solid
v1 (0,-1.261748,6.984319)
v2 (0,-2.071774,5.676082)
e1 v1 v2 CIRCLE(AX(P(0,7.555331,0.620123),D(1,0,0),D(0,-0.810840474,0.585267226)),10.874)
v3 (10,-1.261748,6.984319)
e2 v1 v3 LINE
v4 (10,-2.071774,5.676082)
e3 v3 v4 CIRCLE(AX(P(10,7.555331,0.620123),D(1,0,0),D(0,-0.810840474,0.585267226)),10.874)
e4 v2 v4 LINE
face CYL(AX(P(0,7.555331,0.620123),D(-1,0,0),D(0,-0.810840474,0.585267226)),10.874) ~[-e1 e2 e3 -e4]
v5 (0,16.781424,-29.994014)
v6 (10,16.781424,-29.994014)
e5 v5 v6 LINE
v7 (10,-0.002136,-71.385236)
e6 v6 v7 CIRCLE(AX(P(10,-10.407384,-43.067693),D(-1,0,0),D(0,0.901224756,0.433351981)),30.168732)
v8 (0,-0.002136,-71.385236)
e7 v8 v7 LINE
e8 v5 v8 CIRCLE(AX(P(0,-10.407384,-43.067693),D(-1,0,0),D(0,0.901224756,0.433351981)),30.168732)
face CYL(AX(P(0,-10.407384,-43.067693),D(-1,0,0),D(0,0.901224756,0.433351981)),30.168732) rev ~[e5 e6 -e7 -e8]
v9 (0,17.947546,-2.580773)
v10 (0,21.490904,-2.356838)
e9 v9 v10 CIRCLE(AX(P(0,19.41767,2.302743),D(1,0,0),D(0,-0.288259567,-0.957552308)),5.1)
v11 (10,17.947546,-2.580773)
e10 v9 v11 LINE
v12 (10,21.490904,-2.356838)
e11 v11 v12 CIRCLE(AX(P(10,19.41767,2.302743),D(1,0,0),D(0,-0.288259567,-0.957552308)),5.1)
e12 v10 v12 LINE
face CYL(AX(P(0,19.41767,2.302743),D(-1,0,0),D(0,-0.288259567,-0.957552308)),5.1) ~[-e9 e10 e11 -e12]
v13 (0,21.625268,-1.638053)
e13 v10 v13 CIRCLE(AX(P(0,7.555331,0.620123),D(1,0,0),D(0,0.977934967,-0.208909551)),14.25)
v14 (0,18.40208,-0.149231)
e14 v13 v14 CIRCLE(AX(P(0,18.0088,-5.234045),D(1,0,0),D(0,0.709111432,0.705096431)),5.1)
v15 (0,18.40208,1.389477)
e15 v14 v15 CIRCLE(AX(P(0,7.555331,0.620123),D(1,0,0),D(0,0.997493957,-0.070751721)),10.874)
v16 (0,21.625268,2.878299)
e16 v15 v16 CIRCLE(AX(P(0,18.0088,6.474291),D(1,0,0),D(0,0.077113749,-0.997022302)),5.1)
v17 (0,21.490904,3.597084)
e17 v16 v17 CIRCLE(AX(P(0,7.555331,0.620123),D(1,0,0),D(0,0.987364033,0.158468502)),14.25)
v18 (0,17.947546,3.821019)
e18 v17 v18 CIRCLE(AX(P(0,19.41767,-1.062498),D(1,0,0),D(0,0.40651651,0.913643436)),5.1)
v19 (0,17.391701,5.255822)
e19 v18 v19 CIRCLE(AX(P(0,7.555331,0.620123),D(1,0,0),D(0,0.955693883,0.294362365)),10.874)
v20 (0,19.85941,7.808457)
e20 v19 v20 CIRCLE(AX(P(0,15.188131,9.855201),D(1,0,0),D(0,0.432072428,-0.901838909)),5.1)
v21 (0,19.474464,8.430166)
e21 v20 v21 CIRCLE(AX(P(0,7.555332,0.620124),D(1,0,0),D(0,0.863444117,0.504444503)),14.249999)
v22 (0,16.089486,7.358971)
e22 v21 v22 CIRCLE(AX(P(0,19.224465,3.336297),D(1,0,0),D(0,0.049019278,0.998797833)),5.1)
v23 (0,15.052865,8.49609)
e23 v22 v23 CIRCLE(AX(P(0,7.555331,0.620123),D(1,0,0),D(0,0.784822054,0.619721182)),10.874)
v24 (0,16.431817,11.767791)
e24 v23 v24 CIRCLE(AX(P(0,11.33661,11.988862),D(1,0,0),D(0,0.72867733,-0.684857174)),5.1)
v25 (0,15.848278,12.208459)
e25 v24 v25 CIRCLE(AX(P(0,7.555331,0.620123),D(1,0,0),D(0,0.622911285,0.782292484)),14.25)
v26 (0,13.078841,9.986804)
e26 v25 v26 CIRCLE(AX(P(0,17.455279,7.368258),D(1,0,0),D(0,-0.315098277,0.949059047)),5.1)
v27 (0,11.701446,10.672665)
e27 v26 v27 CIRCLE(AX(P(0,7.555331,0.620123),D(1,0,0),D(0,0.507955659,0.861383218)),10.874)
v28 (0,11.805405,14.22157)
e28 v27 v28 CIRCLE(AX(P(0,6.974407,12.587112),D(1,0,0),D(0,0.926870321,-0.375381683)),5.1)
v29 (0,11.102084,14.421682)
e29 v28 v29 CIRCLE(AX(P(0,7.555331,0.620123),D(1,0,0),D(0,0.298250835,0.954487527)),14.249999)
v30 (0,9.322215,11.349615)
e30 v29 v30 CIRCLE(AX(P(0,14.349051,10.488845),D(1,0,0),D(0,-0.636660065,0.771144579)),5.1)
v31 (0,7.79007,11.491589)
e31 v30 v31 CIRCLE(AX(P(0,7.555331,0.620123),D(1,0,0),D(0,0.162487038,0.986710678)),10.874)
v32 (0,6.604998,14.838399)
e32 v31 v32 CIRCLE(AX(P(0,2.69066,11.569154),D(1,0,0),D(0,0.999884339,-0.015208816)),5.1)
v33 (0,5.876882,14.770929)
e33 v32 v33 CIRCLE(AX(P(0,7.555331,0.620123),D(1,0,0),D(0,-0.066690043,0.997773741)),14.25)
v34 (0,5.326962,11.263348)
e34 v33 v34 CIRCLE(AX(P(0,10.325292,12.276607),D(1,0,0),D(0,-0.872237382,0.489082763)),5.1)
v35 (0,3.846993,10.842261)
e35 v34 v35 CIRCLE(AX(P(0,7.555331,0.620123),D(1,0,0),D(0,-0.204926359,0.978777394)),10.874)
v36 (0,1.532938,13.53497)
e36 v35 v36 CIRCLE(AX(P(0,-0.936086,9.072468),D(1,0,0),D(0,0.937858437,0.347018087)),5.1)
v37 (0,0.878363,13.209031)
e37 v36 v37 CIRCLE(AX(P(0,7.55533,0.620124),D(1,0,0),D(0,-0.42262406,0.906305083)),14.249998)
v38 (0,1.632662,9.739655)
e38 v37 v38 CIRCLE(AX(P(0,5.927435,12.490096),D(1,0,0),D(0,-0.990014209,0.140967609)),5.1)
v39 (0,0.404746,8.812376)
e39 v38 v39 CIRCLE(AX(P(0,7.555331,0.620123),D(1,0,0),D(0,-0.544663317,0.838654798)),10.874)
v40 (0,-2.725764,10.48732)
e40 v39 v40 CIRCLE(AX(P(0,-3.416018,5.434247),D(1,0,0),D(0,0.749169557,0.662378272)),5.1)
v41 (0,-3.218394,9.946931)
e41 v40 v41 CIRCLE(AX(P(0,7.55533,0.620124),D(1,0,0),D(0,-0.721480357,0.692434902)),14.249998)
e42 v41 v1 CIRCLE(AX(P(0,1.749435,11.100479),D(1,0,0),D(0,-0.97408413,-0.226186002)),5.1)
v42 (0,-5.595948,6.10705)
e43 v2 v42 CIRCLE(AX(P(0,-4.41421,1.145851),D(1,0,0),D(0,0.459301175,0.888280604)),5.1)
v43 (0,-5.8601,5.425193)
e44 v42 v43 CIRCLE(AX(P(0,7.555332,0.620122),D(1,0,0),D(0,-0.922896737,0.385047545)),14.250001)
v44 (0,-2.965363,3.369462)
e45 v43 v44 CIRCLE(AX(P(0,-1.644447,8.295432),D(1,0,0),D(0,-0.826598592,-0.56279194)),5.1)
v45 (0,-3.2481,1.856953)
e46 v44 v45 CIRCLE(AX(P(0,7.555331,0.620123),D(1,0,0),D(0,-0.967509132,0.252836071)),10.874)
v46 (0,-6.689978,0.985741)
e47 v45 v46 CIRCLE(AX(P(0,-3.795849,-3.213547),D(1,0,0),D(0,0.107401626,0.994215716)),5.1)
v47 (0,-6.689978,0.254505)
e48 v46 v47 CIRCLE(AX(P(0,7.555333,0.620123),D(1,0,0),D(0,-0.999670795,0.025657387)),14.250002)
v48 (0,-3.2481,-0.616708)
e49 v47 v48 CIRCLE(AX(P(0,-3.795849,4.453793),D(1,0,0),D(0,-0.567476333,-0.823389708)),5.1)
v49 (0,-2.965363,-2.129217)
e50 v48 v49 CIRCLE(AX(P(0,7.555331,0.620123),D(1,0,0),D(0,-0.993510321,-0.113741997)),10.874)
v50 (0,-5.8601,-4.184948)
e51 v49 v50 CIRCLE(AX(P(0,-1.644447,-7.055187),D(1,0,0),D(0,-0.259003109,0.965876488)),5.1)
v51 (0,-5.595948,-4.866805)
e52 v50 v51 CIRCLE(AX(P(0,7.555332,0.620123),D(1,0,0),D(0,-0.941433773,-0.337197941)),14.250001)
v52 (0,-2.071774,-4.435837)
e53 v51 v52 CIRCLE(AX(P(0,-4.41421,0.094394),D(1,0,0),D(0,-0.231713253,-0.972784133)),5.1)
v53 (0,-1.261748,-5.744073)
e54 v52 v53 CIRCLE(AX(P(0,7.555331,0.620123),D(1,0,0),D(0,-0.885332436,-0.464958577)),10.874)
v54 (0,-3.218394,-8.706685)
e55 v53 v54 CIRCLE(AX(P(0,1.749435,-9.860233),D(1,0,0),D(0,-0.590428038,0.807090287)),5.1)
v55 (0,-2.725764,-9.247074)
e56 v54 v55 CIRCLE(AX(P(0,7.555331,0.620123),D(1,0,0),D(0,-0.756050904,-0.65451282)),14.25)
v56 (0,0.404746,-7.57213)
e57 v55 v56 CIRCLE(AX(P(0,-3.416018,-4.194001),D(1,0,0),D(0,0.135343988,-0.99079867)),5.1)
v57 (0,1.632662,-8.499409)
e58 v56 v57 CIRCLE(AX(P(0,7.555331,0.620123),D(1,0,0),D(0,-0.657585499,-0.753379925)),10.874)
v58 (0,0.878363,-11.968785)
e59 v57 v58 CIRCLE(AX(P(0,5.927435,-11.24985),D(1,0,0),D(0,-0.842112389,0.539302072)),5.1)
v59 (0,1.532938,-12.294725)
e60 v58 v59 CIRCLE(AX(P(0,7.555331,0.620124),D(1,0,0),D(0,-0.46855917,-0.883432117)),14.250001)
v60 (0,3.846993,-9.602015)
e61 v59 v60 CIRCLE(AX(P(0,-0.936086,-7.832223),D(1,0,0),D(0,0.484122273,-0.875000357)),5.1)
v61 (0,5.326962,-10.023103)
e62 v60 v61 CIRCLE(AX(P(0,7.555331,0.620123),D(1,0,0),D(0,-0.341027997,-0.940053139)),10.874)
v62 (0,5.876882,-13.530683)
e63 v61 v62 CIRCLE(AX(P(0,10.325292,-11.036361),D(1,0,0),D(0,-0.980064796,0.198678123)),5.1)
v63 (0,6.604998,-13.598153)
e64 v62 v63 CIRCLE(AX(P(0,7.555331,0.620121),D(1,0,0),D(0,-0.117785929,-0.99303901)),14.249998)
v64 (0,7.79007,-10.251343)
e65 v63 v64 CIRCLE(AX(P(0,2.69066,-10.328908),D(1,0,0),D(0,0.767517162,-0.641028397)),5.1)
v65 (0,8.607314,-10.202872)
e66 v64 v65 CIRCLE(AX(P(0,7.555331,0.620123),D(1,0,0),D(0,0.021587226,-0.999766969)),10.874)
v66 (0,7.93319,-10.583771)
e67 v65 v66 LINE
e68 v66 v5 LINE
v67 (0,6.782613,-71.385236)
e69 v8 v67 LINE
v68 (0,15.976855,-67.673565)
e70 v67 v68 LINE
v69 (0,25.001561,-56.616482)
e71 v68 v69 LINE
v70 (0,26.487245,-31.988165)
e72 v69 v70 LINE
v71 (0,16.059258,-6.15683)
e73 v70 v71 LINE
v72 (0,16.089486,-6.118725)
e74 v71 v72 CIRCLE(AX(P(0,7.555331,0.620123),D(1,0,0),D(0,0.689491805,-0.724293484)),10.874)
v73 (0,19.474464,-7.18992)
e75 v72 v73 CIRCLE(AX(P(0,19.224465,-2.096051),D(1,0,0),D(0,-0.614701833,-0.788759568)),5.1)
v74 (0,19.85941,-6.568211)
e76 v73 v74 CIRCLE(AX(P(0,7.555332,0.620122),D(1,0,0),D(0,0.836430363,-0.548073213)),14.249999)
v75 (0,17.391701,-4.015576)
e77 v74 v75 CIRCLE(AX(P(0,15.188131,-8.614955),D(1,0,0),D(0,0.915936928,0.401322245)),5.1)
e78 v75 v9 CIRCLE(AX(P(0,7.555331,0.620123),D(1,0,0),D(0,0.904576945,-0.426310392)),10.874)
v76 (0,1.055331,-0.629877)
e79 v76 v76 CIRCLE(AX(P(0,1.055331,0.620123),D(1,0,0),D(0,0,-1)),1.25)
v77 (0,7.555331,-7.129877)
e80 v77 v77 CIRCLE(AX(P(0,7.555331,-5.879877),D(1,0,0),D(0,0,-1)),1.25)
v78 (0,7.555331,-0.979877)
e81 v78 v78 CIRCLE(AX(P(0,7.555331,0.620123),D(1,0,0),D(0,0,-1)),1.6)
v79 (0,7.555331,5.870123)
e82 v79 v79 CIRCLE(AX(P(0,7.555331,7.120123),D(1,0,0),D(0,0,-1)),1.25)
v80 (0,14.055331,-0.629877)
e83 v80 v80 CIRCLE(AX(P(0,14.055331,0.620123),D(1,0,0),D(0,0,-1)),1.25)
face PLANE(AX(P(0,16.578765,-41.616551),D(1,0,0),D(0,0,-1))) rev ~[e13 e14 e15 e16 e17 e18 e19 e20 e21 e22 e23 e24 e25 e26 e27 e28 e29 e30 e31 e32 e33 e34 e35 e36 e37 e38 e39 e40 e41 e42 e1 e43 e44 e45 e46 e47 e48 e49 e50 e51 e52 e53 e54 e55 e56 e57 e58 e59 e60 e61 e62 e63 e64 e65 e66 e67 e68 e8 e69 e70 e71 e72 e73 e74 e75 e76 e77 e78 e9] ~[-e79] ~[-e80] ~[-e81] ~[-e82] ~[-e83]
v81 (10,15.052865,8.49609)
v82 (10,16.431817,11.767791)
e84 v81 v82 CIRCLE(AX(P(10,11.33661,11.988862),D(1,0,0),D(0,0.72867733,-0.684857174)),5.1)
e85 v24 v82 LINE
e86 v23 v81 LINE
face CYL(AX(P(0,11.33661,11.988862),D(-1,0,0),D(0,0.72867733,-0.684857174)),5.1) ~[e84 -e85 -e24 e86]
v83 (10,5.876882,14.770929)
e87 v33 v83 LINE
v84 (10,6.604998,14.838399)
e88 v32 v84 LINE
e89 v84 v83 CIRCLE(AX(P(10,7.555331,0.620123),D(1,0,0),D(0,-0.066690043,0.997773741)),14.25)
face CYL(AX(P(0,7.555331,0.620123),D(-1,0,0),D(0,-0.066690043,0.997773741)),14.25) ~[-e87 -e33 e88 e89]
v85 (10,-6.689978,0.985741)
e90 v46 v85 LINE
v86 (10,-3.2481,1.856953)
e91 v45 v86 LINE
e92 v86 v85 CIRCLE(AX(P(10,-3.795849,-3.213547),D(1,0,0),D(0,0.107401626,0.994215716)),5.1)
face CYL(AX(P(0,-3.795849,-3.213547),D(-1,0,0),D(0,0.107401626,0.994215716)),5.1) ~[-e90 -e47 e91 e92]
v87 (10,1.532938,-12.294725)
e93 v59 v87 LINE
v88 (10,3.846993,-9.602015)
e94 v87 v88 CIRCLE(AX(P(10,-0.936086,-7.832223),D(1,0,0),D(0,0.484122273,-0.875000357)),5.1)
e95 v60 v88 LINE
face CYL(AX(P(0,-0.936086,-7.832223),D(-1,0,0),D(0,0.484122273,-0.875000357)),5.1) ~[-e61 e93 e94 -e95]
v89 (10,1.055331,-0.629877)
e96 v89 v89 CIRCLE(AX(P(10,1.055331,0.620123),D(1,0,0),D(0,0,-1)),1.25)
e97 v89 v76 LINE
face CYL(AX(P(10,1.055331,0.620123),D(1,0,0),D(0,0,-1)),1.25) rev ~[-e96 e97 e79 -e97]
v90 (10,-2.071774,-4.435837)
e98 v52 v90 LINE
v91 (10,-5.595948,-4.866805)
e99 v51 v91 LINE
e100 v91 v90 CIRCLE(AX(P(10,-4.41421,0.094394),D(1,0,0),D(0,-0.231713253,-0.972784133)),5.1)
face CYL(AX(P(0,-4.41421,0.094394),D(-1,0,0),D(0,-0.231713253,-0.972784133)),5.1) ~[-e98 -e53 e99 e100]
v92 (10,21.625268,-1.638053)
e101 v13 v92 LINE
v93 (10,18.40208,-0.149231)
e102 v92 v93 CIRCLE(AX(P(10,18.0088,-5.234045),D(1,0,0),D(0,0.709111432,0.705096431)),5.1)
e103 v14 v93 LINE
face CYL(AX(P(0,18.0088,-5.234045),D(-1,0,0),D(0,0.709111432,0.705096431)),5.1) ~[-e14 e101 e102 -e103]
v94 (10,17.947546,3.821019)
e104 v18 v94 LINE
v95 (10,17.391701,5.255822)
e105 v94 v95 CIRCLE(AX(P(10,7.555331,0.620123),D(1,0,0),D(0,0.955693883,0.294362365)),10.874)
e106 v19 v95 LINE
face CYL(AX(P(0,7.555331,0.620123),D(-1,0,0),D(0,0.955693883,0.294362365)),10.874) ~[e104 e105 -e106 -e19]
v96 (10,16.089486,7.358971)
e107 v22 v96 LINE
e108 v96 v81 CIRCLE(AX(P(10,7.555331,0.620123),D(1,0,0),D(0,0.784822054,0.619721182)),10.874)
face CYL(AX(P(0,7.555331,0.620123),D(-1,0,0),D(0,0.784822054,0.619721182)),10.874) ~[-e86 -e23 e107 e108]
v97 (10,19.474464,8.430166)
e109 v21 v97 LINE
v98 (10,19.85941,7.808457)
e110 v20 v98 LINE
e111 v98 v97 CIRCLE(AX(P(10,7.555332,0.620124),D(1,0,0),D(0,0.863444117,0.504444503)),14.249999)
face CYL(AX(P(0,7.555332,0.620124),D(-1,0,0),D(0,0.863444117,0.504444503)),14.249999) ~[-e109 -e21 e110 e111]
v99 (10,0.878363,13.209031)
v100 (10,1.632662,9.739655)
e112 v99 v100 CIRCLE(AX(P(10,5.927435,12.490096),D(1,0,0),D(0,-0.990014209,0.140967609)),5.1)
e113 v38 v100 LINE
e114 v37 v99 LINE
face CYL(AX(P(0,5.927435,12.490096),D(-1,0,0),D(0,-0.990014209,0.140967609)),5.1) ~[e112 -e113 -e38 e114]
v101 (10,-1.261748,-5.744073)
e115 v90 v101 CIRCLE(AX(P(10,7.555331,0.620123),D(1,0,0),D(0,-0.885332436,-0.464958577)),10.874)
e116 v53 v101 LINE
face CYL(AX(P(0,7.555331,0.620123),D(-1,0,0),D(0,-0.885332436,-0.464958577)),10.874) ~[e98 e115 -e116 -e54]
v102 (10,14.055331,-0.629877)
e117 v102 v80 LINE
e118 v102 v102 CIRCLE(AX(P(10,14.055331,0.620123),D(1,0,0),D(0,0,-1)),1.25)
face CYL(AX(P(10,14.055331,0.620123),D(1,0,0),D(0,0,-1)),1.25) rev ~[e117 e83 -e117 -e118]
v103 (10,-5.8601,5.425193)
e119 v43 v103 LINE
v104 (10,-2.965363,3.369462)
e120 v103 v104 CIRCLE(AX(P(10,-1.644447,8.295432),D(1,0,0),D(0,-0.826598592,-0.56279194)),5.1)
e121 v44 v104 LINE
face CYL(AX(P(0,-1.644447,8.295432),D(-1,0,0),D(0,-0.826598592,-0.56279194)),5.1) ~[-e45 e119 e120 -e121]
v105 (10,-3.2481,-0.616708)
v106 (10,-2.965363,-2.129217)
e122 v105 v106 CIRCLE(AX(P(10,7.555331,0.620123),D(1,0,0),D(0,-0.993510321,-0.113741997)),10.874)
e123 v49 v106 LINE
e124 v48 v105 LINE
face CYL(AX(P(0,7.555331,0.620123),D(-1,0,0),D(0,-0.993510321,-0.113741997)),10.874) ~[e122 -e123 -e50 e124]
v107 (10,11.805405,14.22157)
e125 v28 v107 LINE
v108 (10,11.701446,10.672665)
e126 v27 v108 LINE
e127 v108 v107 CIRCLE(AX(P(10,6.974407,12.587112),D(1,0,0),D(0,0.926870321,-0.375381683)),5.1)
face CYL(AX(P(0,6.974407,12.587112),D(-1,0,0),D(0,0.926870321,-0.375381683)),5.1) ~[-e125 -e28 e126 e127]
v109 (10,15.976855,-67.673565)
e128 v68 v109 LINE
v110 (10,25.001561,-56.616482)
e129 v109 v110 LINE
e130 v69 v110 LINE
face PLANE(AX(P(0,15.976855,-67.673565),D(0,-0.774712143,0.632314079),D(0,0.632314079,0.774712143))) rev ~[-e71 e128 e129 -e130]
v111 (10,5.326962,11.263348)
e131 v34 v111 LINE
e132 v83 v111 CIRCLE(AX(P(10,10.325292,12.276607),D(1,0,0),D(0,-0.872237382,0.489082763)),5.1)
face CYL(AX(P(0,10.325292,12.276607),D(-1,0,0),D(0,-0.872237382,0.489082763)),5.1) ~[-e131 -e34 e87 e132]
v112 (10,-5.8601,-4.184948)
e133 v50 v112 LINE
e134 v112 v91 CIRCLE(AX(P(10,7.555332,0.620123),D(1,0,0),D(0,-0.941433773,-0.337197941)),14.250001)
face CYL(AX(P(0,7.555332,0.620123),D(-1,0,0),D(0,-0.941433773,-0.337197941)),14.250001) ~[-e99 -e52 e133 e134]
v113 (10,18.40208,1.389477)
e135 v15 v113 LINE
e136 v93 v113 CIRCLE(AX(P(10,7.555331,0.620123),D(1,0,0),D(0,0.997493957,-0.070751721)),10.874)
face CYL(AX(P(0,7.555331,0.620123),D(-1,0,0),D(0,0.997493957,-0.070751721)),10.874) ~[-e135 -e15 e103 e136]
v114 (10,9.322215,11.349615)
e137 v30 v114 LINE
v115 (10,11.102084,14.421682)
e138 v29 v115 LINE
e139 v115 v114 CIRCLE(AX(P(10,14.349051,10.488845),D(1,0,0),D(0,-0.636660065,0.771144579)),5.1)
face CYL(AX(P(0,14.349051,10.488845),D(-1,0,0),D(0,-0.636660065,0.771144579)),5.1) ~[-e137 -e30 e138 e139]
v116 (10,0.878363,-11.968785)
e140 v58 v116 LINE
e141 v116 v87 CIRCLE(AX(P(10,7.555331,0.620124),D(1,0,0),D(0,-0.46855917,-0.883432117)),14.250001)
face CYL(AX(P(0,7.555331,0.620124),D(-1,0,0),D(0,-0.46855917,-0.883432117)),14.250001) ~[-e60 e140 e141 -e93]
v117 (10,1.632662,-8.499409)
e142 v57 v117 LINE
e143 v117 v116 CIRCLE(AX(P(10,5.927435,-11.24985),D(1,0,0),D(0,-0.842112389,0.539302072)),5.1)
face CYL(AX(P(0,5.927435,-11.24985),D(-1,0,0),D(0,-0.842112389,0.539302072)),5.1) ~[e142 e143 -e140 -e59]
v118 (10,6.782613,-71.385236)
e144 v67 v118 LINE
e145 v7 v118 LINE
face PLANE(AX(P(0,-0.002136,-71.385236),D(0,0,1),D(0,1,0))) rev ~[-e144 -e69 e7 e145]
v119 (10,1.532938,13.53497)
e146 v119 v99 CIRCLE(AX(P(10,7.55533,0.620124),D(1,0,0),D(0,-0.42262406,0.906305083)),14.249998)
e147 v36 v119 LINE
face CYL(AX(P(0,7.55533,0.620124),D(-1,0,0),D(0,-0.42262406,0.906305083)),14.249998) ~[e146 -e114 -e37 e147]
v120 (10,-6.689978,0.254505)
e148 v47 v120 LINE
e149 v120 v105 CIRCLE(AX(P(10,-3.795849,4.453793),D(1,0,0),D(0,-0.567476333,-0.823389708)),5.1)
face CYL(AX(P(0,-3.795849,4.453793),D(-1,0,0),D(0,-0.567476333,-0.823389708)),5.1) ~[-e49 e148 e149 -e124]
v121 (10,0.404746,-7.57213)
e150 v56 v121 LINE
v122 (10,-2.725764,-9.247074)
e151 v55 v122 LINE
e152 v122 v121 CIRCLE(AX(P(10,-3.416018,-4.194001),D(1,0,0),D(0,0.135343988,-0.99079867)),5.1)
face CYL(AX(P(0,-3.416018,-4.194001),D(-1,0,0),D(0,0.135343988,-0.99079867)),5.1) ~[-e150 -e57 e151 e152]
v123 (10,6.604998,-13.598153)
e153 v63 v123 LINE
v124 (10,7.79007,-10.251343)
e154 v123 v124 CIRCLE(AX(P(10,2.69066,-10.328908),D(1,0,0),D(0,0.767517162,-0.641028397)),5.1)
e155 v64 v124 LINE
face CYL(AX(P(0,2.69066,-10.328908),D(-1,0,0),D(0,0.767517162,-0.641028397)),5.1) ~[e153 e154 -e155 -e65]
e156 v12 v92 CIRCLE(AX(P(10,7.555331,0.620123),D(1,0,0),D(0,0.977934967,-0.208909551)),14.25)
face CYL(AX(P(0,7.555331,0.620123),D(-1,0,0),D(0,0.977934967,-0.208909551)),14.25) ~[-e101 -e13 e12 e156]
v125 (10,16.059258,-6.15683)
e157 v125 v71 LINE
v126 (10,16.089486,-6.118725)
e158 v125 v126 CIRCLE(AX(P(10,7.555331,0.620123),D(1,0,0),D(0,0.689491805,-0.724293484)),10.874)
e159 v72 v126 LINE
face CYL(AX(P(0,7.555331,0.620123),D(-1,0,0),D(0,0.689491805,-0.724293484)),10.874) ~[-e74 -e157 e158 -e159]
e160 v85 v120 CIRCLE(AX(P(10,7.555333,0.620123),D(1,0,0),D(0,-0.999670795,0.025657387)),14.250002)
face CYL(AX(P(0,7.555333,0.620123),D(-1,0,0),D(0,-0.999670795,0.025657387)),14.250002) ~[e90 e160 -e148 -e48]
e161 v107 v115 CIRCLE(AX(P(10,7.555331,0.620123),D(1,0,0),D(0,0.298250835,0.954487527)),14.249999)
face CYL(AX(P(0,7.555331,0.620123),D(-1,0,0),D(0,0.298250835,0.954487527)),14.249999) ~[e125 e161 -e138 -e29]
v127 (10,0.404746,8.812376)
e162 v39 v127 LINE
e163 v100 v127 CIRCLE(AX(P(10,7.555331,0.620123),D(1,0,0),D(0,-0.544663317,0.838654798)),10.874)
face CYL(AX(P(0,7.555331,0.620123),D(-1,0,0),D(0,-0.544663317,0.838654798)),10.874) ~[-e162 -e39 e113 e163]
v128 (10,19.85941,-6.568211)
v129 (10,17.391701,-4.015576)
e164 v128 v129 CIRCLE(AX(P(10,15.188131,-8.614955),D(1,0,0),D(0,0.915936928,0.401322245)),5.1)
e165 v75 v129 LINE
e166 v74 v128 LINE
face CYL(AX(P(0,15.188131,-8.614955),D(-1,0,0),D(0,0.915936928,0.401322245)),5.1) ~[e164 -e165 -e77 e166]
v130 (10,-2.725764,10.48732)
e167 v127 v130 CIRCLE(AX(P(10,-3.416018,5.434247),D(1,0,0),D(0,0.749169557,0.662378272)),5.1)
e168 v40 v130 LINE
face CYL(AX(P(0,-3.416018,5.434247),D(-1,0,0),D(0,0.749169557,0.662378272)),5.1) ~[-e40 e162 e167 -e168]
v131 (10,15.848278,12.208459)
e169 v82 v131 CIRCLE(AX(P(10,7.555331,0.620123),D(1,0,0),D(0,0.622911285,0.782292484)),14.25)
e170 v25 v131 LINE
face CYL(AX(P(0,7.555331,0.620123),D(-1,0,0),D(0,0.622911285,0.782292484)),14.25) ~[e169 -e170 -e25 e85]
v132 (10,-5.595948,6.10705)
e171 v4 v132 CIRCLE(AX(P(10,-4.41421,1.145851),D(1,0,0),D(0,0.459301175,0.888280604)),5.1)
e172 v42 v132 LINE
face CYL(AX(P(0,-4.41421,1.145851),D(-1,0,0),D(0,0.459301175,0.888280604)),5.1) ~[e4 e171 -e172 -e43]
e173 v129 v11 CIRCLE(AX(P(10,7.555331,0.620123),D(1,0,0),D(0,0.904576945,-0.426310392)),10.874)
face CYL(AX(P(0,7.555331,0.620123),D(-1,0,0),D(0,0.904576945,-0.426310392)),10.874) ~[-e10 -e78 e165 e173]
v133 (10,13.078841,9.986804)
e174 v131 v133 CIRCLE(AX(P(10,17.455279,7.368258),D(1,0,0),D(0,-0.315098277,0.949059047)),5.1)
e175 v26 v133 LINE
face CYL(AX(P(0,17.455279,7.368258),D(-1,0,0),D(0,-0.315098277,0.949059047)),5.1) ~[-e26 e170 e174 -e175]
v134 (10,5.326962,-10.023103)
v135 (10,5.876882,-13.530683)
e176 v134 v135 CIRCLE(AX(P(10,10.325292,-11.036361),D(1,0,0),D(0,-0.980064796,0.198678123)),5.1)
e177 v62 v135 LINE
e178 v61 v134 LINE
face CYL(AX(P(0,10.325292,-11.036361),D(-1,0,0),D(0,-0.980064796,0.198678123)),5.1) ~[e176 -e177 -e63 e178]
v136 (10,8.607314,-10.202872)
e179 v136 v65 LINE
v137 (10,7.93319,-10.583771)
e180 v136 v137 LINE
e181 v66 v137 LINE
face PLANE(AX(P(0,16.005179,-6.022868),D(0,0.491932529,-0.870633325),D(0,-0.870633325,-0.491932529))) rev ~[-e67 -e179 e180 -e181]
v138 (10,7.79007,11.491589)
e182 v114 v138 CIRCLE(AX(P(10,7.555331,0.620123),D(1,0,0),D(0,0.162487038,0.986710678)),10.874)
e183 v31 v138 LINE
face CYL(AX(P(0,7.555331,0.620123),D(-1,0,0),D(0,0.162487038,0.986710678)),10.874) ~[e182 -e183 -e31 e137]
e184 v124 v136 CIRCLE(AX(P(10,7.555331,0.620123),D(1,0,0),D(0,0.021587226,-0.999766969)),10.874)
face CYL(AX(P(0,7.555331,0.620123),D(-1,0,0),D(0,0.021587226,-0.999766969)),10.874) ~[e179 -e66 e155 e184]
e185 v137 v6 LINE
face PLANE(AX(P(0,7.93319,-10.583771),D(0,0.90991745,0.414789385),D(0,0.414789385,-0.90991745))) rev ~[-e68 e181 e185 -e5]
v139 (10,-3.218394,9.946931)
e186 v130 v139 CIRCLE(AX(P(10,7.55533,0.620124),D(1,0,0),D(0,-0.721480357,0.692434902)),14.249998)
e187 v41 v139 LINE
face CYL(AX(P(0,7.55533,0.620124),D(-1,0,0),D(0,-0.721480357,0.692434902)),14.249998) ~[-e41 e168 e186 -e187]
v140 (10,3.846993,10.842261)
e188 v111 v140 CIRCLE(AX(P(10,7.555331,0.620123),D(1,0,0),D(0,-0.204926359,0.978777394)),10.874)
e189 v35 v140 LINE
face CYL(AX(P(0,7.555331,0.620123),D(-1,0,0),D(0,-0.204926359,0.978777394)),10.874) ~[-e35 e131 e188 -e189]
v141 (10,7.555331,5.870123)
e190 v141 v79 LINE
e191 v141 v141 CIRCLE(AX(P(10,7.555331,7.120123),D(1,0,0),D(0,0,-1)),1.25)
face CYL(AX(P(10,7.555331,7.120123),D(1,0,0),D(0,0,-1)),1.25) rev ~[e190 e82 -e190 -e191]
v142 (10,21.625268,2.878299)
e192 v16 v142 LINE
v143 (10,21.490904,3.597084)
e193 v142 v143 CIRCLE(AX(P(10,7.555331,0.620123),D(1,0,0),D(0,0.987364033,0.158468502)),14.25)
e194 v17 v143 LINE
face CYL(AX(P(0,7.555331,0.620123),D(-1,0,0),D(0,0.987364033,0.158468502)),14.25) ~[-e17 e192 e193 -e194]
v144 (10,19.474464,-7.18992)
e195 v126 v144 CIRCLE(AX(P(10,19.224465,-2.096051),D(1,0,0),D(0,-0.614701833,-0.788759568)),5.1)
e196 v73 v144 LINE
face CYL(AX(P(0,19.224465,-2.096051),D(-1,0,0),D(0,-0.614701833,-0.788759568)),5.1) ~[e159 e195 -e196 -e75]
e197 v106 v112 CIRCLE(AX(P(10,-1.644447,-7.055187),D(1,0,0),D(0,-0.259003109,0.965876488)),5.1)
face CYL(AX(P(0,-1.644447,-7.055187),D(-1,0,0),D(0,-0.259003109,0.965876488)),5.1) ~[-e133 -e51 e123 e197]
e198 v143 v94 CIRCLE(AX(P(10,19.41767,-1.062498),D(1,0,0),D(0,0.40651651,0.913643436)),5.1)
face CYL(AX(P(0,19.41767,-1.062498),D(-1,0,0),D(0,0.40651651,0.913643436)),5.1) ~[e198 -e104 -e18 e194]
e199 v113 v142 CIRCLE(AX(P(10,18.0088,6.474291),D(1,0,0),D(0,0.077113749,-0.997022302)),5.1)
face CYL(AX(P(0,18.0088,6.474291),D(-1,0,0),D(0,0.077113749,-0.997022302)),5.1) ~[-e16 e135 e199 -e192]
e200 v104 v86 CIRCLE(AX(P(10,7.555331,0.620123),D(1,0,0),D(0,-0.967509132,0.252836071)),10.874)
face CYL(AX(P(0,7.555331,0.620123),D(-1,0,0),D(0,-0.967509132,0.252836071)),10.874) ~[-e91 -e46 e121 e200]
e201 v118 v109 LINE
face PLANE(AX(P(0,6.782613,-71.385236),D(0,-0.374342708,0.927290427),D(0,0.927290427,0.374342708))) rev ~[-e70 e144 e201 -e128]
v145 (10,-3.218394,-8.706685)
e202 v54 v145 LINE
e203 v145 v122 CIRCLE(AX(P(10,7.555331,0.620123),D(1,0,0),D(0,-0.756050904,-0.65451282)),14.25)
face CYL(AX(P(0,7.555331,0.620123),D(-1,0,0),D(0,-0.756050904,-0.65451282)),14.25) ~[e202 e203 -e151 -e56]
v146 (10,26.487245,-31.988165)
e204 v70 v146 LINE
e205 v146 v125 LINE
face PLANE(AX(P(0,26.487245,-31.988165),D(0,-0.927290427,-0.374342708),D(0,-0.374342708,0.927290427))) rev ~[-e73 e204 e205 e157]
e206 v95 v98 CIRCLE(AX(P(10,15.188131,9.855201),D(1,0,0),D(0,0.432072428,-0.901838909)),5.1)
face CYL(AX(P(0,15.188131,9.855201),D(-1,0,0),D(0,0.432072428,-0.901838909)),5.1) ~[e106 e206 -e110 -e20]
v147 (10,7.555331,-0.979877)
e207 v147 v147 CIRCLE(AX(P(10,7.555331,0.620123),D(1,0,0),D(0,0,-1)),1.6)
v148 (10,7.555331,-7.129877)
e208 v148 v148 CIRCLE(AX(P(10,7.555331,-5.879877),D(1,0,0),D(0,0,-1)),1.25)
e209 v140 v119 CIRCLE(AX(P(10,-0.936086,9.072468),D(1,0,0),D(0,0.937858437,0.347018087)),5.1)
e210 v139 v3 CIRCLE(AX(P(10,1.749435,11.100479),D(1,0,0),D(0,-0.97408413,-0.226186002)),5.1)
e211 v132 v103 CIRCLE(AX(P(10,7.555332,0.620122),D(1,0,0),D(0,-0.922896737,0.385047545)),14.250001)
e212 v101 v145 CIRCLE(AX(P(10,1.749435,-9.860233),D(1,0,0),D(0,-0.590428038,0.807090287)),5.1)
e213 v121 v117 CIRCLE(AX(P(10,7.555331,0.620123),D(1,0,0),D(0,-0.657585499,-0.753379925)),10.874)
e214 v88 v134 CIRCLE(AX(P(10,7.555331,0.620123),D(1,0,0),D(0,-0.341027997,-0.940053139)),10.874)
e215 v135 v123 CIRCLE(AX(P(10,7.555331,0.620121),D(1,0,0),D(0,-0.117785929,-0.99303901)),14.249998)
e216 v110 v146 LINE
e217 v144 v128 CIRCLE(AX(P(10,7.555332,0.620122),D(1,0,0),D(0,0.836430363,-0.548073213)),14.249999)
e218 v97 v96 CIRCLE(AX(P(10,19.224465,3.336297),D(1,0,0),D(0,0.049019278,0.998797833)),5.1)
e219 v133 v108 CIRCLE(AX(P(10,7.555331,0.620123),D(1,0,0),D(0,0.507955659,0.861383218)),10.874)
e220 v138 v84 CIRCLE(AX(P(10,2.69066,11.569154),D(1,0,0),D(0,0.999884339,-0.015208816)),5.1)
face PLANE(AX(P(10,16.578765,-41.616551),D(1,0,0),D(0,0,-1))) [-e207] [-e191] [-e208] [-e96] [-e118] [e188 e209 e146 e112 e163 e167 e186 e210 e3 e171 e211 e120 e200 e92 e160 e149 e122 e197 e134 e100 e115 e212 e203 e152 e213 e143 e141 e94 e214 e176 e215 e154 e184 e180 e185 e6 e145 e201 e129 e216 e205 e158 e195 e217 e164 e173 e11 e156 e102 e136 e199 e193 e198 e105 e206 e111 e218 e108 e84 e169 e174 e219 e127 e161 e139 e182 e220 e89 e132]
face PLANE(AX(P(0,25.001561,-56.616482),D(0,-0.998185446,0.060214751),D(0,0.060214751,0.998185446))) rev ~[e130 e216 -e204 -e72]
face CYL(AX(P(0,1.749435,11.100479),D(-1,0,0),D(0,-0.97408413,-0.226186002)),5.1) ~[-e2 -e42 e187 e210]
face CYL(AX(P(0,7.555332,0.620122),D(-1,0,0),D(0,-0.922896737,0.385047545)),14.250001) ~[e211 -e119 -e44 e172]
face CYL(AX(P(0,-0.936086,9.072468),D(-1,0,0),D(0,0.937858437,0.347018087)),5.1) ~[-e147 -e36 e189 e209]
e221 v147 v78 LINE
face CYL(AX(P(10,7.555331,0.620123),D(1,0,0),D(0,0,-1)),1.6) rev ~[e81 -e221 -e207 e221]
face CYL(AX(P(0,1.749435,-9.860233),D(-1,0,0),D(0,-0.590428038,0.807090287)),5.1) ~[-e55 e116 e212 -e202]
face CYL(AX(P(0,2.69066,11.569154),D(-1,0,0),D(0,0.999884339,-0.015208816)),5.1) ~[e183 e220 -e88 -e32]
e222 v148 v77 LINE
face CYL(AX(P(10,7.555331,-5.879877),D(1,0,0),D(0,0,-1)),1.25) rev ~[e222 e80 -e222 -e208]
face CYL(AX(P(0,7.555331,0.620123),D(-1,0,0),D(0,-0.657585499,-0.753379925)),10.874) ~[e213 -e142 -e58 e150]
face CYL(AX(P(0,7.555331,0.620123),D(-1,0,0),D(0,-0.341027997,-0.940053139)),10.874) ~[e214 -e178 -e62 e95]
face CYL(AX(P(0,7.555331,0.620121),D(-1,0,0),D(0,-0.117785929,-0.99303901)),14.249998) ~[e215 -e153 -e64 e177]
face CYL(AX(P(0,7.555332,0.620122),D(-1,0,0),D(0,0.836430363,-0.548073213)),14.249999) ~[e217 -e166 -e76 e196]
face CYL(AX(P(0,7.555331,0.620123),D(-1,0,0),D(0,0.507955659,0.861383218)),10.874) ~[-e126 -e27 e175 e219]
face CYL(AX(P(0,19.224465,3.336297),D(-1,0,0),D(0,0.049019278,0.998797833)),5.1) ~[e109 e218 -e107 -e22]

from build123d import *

# Parameters (mm, degrees)
EXTRUDE_1_DEPTH     = 10
SKETCH_2_R          = 1.724202643
CUT_EXTRUDE_1_DEPTH = 10
EXTRUDE_4_DEPTH     = 10
SKETCH_9_R          = 1.6
CUT_EXTRUDE_2_DEPTH = 10
SKETCH_11_R         = 1.25
CUT_EXTRUDE_3_DEPTH = 10
EXTRUDE_6_DEPTH     = 10


with BuildPart() as part:
    # 草图1 → 凸台-拉伸1 (new body)
    with BuildSketch(Plane(origin=(0, 0, 0), x_dir=(0, 0, -1), z_dir=(1, 0, 0))):
        with BuildLine():
            ThreePointArc((-14.42168225, 11.102084181), (-13.045532431, 9.936188758), (-11.349614776, 9.322215004))
            ThreePointArc((-11.349614776, 9.322215004), (-11.447736293, 8.558657104), (-11.491588877, 7.790070448))
            ThreePointArc((-11.491588877, 7.790070448), (-13.271447693, 7.498174815), (-14.838398668, 6.604997843))
            ThreePointArc((-14.838398668, 6.604997843), (-14.809334872, 6.240506841), (-14.770928756, 5.876881533))
            ThreePointArc((-14.770928756, 5.876881533), (-13.066537261, 5.286839082), (-11.263348242, 5.326961726))
            ThreePointArc((-11.263348242, 5.326961726), (-11.079014904, 4.57951961), (-10.842260697, 3.846992516))
            ThreePointArc((-10.842260697, 3.846992516), (-12.396484749, 2.93184878), (-13.534970281, 1.532938077))
            ThreePointArc((-13.534970281, 1.532938077), (-13.376199762, 1.203559394), (-13.209030512, 0.878362781))
            ThreePointArc((-13.209030512, 0.878362781), (-11.406584857, 0.943861805), (-9.739655144, 1.632662062))
            ThreePointArc((-9.739655144, 1.632662062), (-9.297762189, 1.002281928), (-8.812376158, 0.404746239))
            ThreePointArc((-8.812376158, 0.404746239), (-9.931058878, -1.010050366), (-10.487320186, -2.725764159))
            ThreePointArc((-10.487320186, -2.725764159), (-10.220285782, -2.975546107), (-9.946930533, -3.218394419))
            ThreePointArc((-9.946930533, -3.218394419), (-8.289860991, -2.506199926), (-6.984318678, -1.261748348))
            ThreePointArc((-6.984318678, -1.261748348), (-6.344546199, -1.68993017), (-5.676082417, -2.071773947))
            ThreePointArc((-5.676082417, -2.071773947), (-6.208139503, -3.795147302), (-6.107050417, -5.595947529))
            ThreePointArc((-6.107050417, -5.595947529), (-5.767816603, -5.732398305), (-5.425193496, -5.860100307))
            ThreePointArc((-5.425193496, -5.860100307), (-4.137296491, -4.597396158), (-3.369462301, -2.96536334))
            ThreePointArc((-3.369462301, -2.96536334), (-2.618215116, -3.133518522), (-1.856953321, -3.24810027))
            ThreePointArc((-1.856953321, -3.24810027), (-1.730527517, -5.047299252), (-0.985740676, -6.689977865))
            ThreePointArc((-0.985740676, -6.689977865), (-0.62012286, -6.694669036), (-0.254505043, -6.689977865))
            ThreePointArc((-0.254505043, -6.689977865), (0.490281797, -5.047299252), (0.616707602, -3.24810027))
            ThreePointArc((0.616707602, -3.24810027), (1.377969397, -3.133518522), (2.129216582, -2.96536334))
            ThreePointArc((2.129216582, -2.96536334), (2.897050772, -4.597396158), (4.184947776, -5.860100307))
            ThreePointArc((4.184947776, -5.860100307), (4.527570883, -5.732398305), (4.866804697, -5.595947529))
            ThreePointArc((4.866804697, -5.595947529), (4.967893784, -3.795147302), (4.435836697, -2.071773947))
            ThreePointArc((4.435836697, -2.071773947), (5.104300479, -1.68993017), (5.744072958, -1.261748348))
            ThreePointArc((5.744072958, -1.261748348), (7.049615272, -2.506199926), (8.706684814, -3.218394419))
            ThreePointArc((8.706684814, -3.218394419), (8.980040062, -2.975546107), (9.247074467, -2.725764159))
            ThreePointArc((9.247074467, -2.725764159), (8.690813158, -1.010050366), (7.572130439, 0.404746239))
            ThreePointArc((7.572130439, 0.404746239), (8.05751647, 1.002281928), (8.499409425, 1.632662062))
            ThreePointArc((8.499409425, 1.632662062), (10.166339138, 0.943861805), (11.968784793, 0.878362781))
            ThreePointArc((11.968784793, 0.878362781), (12.135954042, 1.203559394), (12.294724562, 1.532938077))
            ThreePointArc((12.294724562, 1.532938077), (11.15623903, 2.93184878), (9.602014977, 3.846992516))
            ThreePointArc((9.602014977, 3.846992516), (9.838769184, 4.57951961), (10.023102523, 5.326961726))
            ThreePointArc((10.023102523, 5.326961726), (11.826291541, 5.286839082), (13.530683036, 5.876881533))
            ThreePointArc((13.530683036, 5.876881533), (13.569089153, 6.240506841), (13.598152949, 6.604997843))
            ThreePointArc((13.598152949, 6.604997843), (12.031201973, 7.498174815), (10.251343158, 7.790070448))
            ThreePointArc((10.251343158, 7.790070448), (10.207490573, 8.558657104), (10.109369057, 9.322215004))
            ThreePointArc((10.109369057, 9.322215004), (11.805286712, 9.936188758), (13.181436531, 11.102084181))
            ThreePointArc((13.181436531, 11.102084181), (13.085892556, 11.455028572), (12.981324401, 11.805405363))
            ThreePointArc((12.981324401, 11.805405363), (11.197533394, 12.072220104), (9.432419612, 11.701445512))
            ThreePointArc((9.432419612, 11.701445512), (9.11388277, 12.402289844), (8.746558253, 13.078840801))
            ThreePointArc((8.746558253, 13.078840801), (10.106161468, 14.263990395), (10.968212953, 15.848278153))
            ThreePointArc((10.968212953, 15.848278153), (10.751622629, 16.142874532), (10.527545033, 16.431816785))
            ThreePointArc((10.527545033, 16.431816785), (8.767824855, 16.036234486), (7.255844503, 15.052864832))
            ThreePointArc((7.255844503, 15.052864832), (6.705643569, 15.591313929), (6.118725263, 16.089485988))
            ThreePointArc((6.118725263, 16.089485988), (6.95839209, 17.685750403), (7.18992041, 19.474463655))
            ThreePointArc((7.18992041, 19.474463655), (6.881535461, 19.670925148), (6.568211345, 19.859409611))
            ThreePointArc((6.568211345, 19.859409611), (5.070221956, 18.854855853), (4.015576359, 17.391700658))
            ThreePointArc((4.015576359, 17.391700658), (3.308019018, 17.695033986), (2.580773493, 17.947546249))
            ThreePointArc((2.580773493, 17.947546249), (2.787102273, 19.73934113), (2.356838247, 21.490904241))
            ThreePointArc((2.356838247, 21.490904241), (1.998307769, 21.562697634), (1.63805329, 21.625268436))
            ThreePointArc((1.63805329, 21.625268436), (0.604106458, 20.147413771), (0.149231348, 18.402080251))
            ThreePointArc((0.149231348, 18.402080251), (-0.62012286, 18.429330964), (-1.389477067, 18.402080251))
            ThreePointArc((-1.389477067, 18.402080251), (-1.844352177, 20.147413771), (-2.87829901, 21.625268436))
            ThreePointArc((-2.87829901, 21.625268436), (-3.238553489, 21.562697634), (-3.597083966, 21.490904241))
            ThreePointArc((-3.597083966, 21.490904241), (-4.027347993, 19.73934113), (-3.821019212, 17.947546249))
            ThreePointArc((-3.821019212, 17.947546249), (-4.548264738, 17.695033986), (-5.255822078, 17.391700658))
            ThreePointArc((-5.255822078, 17.391700658), (-6.310467675, 18.854855853), (-7.808457064, 19.859409611))
            ThreePointArc((-7.808457064, 19.859409611), (-8.121781181, 19.670925148), (-8.43016613, 19.474463655))
            ThreePointArc((-8.43016613, 19.474463655), (-8.198637809, 17.685750403), (-7.358970983, 16.089485988))
            ThreePointArc((-7.358970983, 16.089485988), (-7.945889289, 15.591313929), (-8.496090222, 15.052864832))
            ThreePointArc((-8.496090222, 15.052864832), (-10.008070574, 16.036234486), (-11.767790753, 16.431816785))
            ThreePointArc((-11.767790753, 16.431816785), (-11.991868348, 16.142874532), (-12.208458672, 15.848278153))
            ThreePointArc((-12.208458672, 15.848278153), (-11.346407187, 14.263990395), (-9.986803973, 13.078840801))
            ThreePointArc((-9.986803973, 13.078840801), (-10.35412849, 12.402289844), (-10.672665332, 11.701445512))
            ThreePointArc((-10.672665332, 11.701445512), (-12.437779114, 12.072220104), (-14.221570121, 11.805405363))
            ThreePointArc((-14.221570121, 11.805405363), (-14.326138275, 11.455028572), (-14.42168225, 11.102084181))
        make_face()
    extrude(amount=EXTRUDE_1_DEPTH)

    # 草图2 → 切除-拉伸1 (cut)
    with BuildSketch(Plane(origin=(10, 0, 0), x_dir=(0, 0, -1), z_dir=(1, 0, 0))):
        with Locations((-0.62012286, 7.555330964)):
            Circle(SKETCH_2_R)
    extrude(amount=-CUT_EXTRUDE_1_DEPTH, mode=Mode.SUBTRACT)

    # 草图1<2> → 凸台-拉伸4 (add)
    with BuildSketch(Plane(origin=(0, 0, 0), x_dir=(0, 0, -1), z_dir=(1, 0, 0))):
        with BuildLine():
            ThreePointArc((-14.42168225, 11.102084181), (-13.045532431, 9.936188758), (-11.349614776, 9.322215004))
            ThreePointArc((-11.349614776, 9.322215004), (-11.447736293, 8.558657104), (-11.491588877, 7.790070448))
            ThreePointArc((-11.491588877, 7.790070448), (-13.271447693, 7.498174815), (-14.838398668, 6.604997843))
            ThreePointArc((-14.838398668, 6.604997843), (-14.809334872, 6.240506841), (-14.770928756, 5.876881533))
            ThreePointArc((-14.770928756, 5.876881533), (-13.066537261, 5.286839082), (-11.263348242, 5.326961726))
            ThreePointArc((-11.263348242, 5.326961726), (-11.079014904, 4.57951961), (-10.842260697, 3.846992516))
            ThreePointArc((-10.842260697, 3.846992516), (-12.396484749, 2.93184878), (-13.534970281, 1.532938077))
            ThreePointArc((-13.534970281, 1.532938077), (-13.376199762, 1.203559394), (-13.209030512, 0.878362781))
            ThreePointArc((-13.209030512, 0.878362781), (-11.406584857, 0.943861805), (-9.739655144, 1.632662062))
            ThreePointArc((-9.739655144, 1.632662062), (-9.297762189, 1.002281928), (-8.812376158, 0.404746239))
            ThreePointArc((-8.812376158, 0.404746239), (-9.931058878, -1.010050366), (-10.487320186, -2.725764159))
            ThreePointArc((-10.487320186, -2.725764159), (-10.220285782, -2.975546107), (-9.946930533, -3.218394419))
            ThreePointArc((-9.946930533, -3.218394419), (-8.289860991, -2.506199926), (-6.984318678, -1.261748348))
            ThreePointArc((-6.984318678, -1.261748348), (-6.344546199, -1.68993017), (-5.676082417, -2.071773947))
            ThreePointArc((-5.676082417, -2.071773947), (-6.208139503, -3.795147302), (-6.107050417, -5.595947529))
            ThreePointArc((-6.107050417, -5.595947529), (-5.767816603, -5.732398305), (-5.425193496, -5.860100307))
            ThreePointArc((-5.425193496, -5.860100307), (-4.137296491, -4.597396158), (-3.369462301, -2.96536334))
            ThreePointArc((-3.369462301, -2.96536334), (-2.618215116, -3.133518522), (-1.856953321, -3.24810027))
            ThreePointArc((-1.856953321, -3.24810027), (-1.730527517, -5.047299252), (-0.985740676, -6.689977865))
            ThreePointArc((-0.985740676, -6.689977865), (-0.62012286, -6.694669036), (-0.254505043, -6.689977865))
            ThreePointArc((-0.254505043, -6.689977865), (0.490281797, -5.047299252), (0.616707602, -3.24810027))
            ThreePointArc((0.616707602, -3.24810027), (1.377969397, -3.133518522), (2.129216582, -2.96536334))
            ThreePointArc((2.129216582, -2.96536334), (2.897050772, -4.597396158), (4.184947776, -5.860100307))
            ThreePointArc((4.184947776, -5.860100307), (4.527570883, -5.732398305), (4.866804697, -5.595947529))
            ThreePointArc((4.866804697, -5.595947529), (4.967893784, -3.795147302), (4.435836697, -2.071773947))
            ThreePointArc((4.435836697, -2.071773947), (5.104300479, -1.68993017), (5.744072958, -1.261748348))
            ThreePointArc((5.744072958, -1.261748348), (7.049615272, -2.506199926), (8.706684814, -3.218394419))
            ThreePointArc((8.706684814, -3.218394419), (8.980040062, -2.975546107), (9.247074467, -2.725764159))
            ThreePointArc((9.247074467, -2.725764159), (8.690813158, -1.010050366), (7.572130439, 0.404746239))
            ThreePointArc((7.572130439, 0.404746239), (8.05751647, 1.002281928), (8.499409425, 1.632662062))
            ThreePointArc((8.499409425, 1.632662062), (10.166339138, 0.943861805), (11.968784793, 0.878362781))
            ThreePointArc((11.968784793, 0.878362781), (12.135954042, 1.203559394), (12.294724562, 1.532938077))
            ThreePointArc((12.294724562, 1.532938077), (11.15623903, 2.93184878), (9.602014977, 3.846992516))
            ThreePointArc((9.602014977, 3.846992516), (9.838769184, 4.57951961), (10.023102523, 5.326961726))
            ThreePointArc((10.023102523, 5.326961726), (11.826291541, 5.286839082), (13.530683036, 5.876881533))
            ThreePointArc((13.530683036, 5.876881533), (13.569089153, 6.240506841), (13.598152949, 6.604997843))
            ThreePointArc((13.598152949, 6.604997843), (12.031201973, 7.498174815), (10.251343158, 7.790070448))
            ThreePointArc((10.251343158, 7.790070448), (10.207490573, 8.558657104), (10.109369057, 9.322215004))
            ThreePointArc((10.109369057, 9.322215004), (11.805286712, 9.936188758), (13.181436531, 11.102084181))
            ThreePointArc((13.181436531, 11.102084181), (13.085892556, 11.455028572), (12.981324401, 11.805405363))
            ThreePointArc((12.981324401, 11.805405363), (11.197533394, 12.072220104), (9.432419612, 11.701445512))
            ThreePointArc((9.432419612, 11.701445512), (9.11388277, 12.402289844), (8.746558253, 13.078840801))
            ThreePointArc((8.746558253, 13.078840801), (10.106161468, 14.263990395), (10.968212953, 15.848278153))
            ThreePointArc((10.968212953, 15.848278153), (10.751622629, 16.142874532), (10.527545033, 16.431816785))
            ThreePointArc((10.527545033, 16.431816785), (8.767824855, 16.036234486), (7.255844503, 15.052864832))
            ThreePointArc((7.255844503, 15.052864832), (6.705643569, 15.591313929), (6.118725263, 16.089485988))
            ThreePointArc((6.118725263, 16.089485988), (6.95839209, 17.685750403), (7.18992041, 19.474463655))
            ThreePointArc((7.18992041, 19.474463655), (6.881535461, 19.670925148), (6.568211345, 19.859409611))
            ThreePointArc((6.568211345, 19.859409611), (5.070221956, 18.854855853), (4.015576359, 17.391700658))
            ThreePointArc((4.015576359, 17.391700658), (3.308019018, 17.695033986), (2.580773493, 17.947546249))
            ThreePointArc((2.580773493, 17.947546249), (2.787102273, 19.73934113), (2.356838247, 21.490904241))
            ThreePointArc((2.356838247, 21.490904241), (1.998307769, 21.562697634), (1.63805329, 21.625268436))
            ThreePointArc((1.63805329, 21.625268436), (0.604106458, 20.147413771), (0.149231348, 18.402080251))
            ThreePointArc((0.149231348, 18.402080251), (-0.62012286, 18.429330964), (-1.389477067, 18.402080251))
            ThreePointArc((-1.389477067, 18.402080251), (-1.844352177, 20.147413771), (-2.87829901, 21.625268436))
            ThreePointArc((-2.87829901, 21.625268436), (-3.238553489, 21.562697634), (-3.597083966, 21.490904241))
            ThreePointArc((-3.597083966, 21.490904241), (-4.027347993, 19.73934113), (-3.821019212, 17.947546249))
            ThreePointArc((-3.821019212, 17.947546249), (-4.548264738, 17.695033986), (-5.255822078, 17.391700658))
            ThreePointArc((-5.255822078, 17.391700658), (-6.310467675, 18.854855853), (-7.808457064, 19.859409611))
            ThreePointArc((-7.808457064, 19.859409611), (-8.121781181, 19.670925148), (-8.43016613, 19.474463655))
            ThreePointArc((-8.43016613, 19.474463655), (-8.198637809, 17.685750403), (-7.358970983, 16.089485988))
            ThreePointArc((-7.358970983, 16.089485988), (-7.945889289, 15.591313929), (-8.496090222, 15.052864832))
            ThreePointArc((-8.496090222, 15.052864832), (-10.008070574, 16.036234486), (-11.767790753, 16.431816785))
            ThreePointArc((-11.767790753, 16.431816785), (-11.991868348, 16.142874532), (-12.208458672, 15.848278153))
            ThreePointArc((-12.208458672, 15.848278153), (-11.346407187, 14.263990395), (-9.986803973, 13.078840801))
            ThreePointArc((-9.986803973, 13.078840801), (-10.35412849, 12.402289844), (-10.672665332, 11.701445512))
            ThreePointArc((-10.672665332, 11.701445512), (-12.437779114, 12.072220104), (-14.221570121, 11.805405363))
            ThreePointArc((-14.221570121, 11.805405363), (-14.326138275, 11.455028572), (-14.42168225, 11.102084181))
        make_face()
    extrude(amount=EXTRUDE_4_DEPTH)

    # 草图9 → 切除-拉伸2 (cut)
    with BuildSketch(Plane(origin=(10, 0, 0), x_dir=(0, 0, -1), z_dir=(1, 0, 0))):
        with Locations((-0.62012286, 7.555330964)):
            Circle(SKETCH_9_R)
    extrude(amount=-CUT_EXTRUDE_2_DEPTH, mode=Mode.SUBTRACT)

    # 草图11 → 切除-拉伸3 (cut)
    with BuildSketch(Plane(origin=(10, 0, 0), x_dir=(0, 0, -1), z_dir=(1, 0, 0))):
        with Locations((-0.62012286, 14.055330964)):
            Circle(SKETCH_11_R)
        with Locations((5.87987714, 7.555330964)):
            Circle(SKETCH_11_R)
        with Locations((-0.62012286, 1.055330964)):
            Circle(SKETCH_11_R)
        with Locations((-7.12012286, 7.555330964)):
            Circle(SKETCH_11_R)
    extrude(amount=-CUT_EXTRUDE_3_DEPTH, mode=Mode.SUBTRACT)

    # 草图16 → 凸台-拉伸6 (add)
    with BuildSketch(Plane.ZY):
        with BuildLine():
            Line((-10.583770646, 7.933190096), (-29.994013507, 16.781424296))
            ThreePointArc((-29.994013507, 16.781424296), (-54.404174999, 17.550380418), (-71.385236253, -0.002136105))
            Line((-71.385236253, -0.002136105), (-71.385236253, 6.782613007))
            Line((-71.385236253, 6.782613007), (-67.673564574, 15.976855456))
            Line((-67.673564574, 15.976855456), (-56.616482475, 25.001560632))
            Line((-56.616482475, 25.001560632), (-31.988164712, 26.487244509))
            Line((-31.988164712, 26.487244509), (-6.022868168, 16.005178547))
            Line((-6.022868168, 16.005178547), (-10.583770646, 7.933190096))
        make_face()
    extrude(amount=-EXTRUDE_6_DEPTH)


solid = part.part
